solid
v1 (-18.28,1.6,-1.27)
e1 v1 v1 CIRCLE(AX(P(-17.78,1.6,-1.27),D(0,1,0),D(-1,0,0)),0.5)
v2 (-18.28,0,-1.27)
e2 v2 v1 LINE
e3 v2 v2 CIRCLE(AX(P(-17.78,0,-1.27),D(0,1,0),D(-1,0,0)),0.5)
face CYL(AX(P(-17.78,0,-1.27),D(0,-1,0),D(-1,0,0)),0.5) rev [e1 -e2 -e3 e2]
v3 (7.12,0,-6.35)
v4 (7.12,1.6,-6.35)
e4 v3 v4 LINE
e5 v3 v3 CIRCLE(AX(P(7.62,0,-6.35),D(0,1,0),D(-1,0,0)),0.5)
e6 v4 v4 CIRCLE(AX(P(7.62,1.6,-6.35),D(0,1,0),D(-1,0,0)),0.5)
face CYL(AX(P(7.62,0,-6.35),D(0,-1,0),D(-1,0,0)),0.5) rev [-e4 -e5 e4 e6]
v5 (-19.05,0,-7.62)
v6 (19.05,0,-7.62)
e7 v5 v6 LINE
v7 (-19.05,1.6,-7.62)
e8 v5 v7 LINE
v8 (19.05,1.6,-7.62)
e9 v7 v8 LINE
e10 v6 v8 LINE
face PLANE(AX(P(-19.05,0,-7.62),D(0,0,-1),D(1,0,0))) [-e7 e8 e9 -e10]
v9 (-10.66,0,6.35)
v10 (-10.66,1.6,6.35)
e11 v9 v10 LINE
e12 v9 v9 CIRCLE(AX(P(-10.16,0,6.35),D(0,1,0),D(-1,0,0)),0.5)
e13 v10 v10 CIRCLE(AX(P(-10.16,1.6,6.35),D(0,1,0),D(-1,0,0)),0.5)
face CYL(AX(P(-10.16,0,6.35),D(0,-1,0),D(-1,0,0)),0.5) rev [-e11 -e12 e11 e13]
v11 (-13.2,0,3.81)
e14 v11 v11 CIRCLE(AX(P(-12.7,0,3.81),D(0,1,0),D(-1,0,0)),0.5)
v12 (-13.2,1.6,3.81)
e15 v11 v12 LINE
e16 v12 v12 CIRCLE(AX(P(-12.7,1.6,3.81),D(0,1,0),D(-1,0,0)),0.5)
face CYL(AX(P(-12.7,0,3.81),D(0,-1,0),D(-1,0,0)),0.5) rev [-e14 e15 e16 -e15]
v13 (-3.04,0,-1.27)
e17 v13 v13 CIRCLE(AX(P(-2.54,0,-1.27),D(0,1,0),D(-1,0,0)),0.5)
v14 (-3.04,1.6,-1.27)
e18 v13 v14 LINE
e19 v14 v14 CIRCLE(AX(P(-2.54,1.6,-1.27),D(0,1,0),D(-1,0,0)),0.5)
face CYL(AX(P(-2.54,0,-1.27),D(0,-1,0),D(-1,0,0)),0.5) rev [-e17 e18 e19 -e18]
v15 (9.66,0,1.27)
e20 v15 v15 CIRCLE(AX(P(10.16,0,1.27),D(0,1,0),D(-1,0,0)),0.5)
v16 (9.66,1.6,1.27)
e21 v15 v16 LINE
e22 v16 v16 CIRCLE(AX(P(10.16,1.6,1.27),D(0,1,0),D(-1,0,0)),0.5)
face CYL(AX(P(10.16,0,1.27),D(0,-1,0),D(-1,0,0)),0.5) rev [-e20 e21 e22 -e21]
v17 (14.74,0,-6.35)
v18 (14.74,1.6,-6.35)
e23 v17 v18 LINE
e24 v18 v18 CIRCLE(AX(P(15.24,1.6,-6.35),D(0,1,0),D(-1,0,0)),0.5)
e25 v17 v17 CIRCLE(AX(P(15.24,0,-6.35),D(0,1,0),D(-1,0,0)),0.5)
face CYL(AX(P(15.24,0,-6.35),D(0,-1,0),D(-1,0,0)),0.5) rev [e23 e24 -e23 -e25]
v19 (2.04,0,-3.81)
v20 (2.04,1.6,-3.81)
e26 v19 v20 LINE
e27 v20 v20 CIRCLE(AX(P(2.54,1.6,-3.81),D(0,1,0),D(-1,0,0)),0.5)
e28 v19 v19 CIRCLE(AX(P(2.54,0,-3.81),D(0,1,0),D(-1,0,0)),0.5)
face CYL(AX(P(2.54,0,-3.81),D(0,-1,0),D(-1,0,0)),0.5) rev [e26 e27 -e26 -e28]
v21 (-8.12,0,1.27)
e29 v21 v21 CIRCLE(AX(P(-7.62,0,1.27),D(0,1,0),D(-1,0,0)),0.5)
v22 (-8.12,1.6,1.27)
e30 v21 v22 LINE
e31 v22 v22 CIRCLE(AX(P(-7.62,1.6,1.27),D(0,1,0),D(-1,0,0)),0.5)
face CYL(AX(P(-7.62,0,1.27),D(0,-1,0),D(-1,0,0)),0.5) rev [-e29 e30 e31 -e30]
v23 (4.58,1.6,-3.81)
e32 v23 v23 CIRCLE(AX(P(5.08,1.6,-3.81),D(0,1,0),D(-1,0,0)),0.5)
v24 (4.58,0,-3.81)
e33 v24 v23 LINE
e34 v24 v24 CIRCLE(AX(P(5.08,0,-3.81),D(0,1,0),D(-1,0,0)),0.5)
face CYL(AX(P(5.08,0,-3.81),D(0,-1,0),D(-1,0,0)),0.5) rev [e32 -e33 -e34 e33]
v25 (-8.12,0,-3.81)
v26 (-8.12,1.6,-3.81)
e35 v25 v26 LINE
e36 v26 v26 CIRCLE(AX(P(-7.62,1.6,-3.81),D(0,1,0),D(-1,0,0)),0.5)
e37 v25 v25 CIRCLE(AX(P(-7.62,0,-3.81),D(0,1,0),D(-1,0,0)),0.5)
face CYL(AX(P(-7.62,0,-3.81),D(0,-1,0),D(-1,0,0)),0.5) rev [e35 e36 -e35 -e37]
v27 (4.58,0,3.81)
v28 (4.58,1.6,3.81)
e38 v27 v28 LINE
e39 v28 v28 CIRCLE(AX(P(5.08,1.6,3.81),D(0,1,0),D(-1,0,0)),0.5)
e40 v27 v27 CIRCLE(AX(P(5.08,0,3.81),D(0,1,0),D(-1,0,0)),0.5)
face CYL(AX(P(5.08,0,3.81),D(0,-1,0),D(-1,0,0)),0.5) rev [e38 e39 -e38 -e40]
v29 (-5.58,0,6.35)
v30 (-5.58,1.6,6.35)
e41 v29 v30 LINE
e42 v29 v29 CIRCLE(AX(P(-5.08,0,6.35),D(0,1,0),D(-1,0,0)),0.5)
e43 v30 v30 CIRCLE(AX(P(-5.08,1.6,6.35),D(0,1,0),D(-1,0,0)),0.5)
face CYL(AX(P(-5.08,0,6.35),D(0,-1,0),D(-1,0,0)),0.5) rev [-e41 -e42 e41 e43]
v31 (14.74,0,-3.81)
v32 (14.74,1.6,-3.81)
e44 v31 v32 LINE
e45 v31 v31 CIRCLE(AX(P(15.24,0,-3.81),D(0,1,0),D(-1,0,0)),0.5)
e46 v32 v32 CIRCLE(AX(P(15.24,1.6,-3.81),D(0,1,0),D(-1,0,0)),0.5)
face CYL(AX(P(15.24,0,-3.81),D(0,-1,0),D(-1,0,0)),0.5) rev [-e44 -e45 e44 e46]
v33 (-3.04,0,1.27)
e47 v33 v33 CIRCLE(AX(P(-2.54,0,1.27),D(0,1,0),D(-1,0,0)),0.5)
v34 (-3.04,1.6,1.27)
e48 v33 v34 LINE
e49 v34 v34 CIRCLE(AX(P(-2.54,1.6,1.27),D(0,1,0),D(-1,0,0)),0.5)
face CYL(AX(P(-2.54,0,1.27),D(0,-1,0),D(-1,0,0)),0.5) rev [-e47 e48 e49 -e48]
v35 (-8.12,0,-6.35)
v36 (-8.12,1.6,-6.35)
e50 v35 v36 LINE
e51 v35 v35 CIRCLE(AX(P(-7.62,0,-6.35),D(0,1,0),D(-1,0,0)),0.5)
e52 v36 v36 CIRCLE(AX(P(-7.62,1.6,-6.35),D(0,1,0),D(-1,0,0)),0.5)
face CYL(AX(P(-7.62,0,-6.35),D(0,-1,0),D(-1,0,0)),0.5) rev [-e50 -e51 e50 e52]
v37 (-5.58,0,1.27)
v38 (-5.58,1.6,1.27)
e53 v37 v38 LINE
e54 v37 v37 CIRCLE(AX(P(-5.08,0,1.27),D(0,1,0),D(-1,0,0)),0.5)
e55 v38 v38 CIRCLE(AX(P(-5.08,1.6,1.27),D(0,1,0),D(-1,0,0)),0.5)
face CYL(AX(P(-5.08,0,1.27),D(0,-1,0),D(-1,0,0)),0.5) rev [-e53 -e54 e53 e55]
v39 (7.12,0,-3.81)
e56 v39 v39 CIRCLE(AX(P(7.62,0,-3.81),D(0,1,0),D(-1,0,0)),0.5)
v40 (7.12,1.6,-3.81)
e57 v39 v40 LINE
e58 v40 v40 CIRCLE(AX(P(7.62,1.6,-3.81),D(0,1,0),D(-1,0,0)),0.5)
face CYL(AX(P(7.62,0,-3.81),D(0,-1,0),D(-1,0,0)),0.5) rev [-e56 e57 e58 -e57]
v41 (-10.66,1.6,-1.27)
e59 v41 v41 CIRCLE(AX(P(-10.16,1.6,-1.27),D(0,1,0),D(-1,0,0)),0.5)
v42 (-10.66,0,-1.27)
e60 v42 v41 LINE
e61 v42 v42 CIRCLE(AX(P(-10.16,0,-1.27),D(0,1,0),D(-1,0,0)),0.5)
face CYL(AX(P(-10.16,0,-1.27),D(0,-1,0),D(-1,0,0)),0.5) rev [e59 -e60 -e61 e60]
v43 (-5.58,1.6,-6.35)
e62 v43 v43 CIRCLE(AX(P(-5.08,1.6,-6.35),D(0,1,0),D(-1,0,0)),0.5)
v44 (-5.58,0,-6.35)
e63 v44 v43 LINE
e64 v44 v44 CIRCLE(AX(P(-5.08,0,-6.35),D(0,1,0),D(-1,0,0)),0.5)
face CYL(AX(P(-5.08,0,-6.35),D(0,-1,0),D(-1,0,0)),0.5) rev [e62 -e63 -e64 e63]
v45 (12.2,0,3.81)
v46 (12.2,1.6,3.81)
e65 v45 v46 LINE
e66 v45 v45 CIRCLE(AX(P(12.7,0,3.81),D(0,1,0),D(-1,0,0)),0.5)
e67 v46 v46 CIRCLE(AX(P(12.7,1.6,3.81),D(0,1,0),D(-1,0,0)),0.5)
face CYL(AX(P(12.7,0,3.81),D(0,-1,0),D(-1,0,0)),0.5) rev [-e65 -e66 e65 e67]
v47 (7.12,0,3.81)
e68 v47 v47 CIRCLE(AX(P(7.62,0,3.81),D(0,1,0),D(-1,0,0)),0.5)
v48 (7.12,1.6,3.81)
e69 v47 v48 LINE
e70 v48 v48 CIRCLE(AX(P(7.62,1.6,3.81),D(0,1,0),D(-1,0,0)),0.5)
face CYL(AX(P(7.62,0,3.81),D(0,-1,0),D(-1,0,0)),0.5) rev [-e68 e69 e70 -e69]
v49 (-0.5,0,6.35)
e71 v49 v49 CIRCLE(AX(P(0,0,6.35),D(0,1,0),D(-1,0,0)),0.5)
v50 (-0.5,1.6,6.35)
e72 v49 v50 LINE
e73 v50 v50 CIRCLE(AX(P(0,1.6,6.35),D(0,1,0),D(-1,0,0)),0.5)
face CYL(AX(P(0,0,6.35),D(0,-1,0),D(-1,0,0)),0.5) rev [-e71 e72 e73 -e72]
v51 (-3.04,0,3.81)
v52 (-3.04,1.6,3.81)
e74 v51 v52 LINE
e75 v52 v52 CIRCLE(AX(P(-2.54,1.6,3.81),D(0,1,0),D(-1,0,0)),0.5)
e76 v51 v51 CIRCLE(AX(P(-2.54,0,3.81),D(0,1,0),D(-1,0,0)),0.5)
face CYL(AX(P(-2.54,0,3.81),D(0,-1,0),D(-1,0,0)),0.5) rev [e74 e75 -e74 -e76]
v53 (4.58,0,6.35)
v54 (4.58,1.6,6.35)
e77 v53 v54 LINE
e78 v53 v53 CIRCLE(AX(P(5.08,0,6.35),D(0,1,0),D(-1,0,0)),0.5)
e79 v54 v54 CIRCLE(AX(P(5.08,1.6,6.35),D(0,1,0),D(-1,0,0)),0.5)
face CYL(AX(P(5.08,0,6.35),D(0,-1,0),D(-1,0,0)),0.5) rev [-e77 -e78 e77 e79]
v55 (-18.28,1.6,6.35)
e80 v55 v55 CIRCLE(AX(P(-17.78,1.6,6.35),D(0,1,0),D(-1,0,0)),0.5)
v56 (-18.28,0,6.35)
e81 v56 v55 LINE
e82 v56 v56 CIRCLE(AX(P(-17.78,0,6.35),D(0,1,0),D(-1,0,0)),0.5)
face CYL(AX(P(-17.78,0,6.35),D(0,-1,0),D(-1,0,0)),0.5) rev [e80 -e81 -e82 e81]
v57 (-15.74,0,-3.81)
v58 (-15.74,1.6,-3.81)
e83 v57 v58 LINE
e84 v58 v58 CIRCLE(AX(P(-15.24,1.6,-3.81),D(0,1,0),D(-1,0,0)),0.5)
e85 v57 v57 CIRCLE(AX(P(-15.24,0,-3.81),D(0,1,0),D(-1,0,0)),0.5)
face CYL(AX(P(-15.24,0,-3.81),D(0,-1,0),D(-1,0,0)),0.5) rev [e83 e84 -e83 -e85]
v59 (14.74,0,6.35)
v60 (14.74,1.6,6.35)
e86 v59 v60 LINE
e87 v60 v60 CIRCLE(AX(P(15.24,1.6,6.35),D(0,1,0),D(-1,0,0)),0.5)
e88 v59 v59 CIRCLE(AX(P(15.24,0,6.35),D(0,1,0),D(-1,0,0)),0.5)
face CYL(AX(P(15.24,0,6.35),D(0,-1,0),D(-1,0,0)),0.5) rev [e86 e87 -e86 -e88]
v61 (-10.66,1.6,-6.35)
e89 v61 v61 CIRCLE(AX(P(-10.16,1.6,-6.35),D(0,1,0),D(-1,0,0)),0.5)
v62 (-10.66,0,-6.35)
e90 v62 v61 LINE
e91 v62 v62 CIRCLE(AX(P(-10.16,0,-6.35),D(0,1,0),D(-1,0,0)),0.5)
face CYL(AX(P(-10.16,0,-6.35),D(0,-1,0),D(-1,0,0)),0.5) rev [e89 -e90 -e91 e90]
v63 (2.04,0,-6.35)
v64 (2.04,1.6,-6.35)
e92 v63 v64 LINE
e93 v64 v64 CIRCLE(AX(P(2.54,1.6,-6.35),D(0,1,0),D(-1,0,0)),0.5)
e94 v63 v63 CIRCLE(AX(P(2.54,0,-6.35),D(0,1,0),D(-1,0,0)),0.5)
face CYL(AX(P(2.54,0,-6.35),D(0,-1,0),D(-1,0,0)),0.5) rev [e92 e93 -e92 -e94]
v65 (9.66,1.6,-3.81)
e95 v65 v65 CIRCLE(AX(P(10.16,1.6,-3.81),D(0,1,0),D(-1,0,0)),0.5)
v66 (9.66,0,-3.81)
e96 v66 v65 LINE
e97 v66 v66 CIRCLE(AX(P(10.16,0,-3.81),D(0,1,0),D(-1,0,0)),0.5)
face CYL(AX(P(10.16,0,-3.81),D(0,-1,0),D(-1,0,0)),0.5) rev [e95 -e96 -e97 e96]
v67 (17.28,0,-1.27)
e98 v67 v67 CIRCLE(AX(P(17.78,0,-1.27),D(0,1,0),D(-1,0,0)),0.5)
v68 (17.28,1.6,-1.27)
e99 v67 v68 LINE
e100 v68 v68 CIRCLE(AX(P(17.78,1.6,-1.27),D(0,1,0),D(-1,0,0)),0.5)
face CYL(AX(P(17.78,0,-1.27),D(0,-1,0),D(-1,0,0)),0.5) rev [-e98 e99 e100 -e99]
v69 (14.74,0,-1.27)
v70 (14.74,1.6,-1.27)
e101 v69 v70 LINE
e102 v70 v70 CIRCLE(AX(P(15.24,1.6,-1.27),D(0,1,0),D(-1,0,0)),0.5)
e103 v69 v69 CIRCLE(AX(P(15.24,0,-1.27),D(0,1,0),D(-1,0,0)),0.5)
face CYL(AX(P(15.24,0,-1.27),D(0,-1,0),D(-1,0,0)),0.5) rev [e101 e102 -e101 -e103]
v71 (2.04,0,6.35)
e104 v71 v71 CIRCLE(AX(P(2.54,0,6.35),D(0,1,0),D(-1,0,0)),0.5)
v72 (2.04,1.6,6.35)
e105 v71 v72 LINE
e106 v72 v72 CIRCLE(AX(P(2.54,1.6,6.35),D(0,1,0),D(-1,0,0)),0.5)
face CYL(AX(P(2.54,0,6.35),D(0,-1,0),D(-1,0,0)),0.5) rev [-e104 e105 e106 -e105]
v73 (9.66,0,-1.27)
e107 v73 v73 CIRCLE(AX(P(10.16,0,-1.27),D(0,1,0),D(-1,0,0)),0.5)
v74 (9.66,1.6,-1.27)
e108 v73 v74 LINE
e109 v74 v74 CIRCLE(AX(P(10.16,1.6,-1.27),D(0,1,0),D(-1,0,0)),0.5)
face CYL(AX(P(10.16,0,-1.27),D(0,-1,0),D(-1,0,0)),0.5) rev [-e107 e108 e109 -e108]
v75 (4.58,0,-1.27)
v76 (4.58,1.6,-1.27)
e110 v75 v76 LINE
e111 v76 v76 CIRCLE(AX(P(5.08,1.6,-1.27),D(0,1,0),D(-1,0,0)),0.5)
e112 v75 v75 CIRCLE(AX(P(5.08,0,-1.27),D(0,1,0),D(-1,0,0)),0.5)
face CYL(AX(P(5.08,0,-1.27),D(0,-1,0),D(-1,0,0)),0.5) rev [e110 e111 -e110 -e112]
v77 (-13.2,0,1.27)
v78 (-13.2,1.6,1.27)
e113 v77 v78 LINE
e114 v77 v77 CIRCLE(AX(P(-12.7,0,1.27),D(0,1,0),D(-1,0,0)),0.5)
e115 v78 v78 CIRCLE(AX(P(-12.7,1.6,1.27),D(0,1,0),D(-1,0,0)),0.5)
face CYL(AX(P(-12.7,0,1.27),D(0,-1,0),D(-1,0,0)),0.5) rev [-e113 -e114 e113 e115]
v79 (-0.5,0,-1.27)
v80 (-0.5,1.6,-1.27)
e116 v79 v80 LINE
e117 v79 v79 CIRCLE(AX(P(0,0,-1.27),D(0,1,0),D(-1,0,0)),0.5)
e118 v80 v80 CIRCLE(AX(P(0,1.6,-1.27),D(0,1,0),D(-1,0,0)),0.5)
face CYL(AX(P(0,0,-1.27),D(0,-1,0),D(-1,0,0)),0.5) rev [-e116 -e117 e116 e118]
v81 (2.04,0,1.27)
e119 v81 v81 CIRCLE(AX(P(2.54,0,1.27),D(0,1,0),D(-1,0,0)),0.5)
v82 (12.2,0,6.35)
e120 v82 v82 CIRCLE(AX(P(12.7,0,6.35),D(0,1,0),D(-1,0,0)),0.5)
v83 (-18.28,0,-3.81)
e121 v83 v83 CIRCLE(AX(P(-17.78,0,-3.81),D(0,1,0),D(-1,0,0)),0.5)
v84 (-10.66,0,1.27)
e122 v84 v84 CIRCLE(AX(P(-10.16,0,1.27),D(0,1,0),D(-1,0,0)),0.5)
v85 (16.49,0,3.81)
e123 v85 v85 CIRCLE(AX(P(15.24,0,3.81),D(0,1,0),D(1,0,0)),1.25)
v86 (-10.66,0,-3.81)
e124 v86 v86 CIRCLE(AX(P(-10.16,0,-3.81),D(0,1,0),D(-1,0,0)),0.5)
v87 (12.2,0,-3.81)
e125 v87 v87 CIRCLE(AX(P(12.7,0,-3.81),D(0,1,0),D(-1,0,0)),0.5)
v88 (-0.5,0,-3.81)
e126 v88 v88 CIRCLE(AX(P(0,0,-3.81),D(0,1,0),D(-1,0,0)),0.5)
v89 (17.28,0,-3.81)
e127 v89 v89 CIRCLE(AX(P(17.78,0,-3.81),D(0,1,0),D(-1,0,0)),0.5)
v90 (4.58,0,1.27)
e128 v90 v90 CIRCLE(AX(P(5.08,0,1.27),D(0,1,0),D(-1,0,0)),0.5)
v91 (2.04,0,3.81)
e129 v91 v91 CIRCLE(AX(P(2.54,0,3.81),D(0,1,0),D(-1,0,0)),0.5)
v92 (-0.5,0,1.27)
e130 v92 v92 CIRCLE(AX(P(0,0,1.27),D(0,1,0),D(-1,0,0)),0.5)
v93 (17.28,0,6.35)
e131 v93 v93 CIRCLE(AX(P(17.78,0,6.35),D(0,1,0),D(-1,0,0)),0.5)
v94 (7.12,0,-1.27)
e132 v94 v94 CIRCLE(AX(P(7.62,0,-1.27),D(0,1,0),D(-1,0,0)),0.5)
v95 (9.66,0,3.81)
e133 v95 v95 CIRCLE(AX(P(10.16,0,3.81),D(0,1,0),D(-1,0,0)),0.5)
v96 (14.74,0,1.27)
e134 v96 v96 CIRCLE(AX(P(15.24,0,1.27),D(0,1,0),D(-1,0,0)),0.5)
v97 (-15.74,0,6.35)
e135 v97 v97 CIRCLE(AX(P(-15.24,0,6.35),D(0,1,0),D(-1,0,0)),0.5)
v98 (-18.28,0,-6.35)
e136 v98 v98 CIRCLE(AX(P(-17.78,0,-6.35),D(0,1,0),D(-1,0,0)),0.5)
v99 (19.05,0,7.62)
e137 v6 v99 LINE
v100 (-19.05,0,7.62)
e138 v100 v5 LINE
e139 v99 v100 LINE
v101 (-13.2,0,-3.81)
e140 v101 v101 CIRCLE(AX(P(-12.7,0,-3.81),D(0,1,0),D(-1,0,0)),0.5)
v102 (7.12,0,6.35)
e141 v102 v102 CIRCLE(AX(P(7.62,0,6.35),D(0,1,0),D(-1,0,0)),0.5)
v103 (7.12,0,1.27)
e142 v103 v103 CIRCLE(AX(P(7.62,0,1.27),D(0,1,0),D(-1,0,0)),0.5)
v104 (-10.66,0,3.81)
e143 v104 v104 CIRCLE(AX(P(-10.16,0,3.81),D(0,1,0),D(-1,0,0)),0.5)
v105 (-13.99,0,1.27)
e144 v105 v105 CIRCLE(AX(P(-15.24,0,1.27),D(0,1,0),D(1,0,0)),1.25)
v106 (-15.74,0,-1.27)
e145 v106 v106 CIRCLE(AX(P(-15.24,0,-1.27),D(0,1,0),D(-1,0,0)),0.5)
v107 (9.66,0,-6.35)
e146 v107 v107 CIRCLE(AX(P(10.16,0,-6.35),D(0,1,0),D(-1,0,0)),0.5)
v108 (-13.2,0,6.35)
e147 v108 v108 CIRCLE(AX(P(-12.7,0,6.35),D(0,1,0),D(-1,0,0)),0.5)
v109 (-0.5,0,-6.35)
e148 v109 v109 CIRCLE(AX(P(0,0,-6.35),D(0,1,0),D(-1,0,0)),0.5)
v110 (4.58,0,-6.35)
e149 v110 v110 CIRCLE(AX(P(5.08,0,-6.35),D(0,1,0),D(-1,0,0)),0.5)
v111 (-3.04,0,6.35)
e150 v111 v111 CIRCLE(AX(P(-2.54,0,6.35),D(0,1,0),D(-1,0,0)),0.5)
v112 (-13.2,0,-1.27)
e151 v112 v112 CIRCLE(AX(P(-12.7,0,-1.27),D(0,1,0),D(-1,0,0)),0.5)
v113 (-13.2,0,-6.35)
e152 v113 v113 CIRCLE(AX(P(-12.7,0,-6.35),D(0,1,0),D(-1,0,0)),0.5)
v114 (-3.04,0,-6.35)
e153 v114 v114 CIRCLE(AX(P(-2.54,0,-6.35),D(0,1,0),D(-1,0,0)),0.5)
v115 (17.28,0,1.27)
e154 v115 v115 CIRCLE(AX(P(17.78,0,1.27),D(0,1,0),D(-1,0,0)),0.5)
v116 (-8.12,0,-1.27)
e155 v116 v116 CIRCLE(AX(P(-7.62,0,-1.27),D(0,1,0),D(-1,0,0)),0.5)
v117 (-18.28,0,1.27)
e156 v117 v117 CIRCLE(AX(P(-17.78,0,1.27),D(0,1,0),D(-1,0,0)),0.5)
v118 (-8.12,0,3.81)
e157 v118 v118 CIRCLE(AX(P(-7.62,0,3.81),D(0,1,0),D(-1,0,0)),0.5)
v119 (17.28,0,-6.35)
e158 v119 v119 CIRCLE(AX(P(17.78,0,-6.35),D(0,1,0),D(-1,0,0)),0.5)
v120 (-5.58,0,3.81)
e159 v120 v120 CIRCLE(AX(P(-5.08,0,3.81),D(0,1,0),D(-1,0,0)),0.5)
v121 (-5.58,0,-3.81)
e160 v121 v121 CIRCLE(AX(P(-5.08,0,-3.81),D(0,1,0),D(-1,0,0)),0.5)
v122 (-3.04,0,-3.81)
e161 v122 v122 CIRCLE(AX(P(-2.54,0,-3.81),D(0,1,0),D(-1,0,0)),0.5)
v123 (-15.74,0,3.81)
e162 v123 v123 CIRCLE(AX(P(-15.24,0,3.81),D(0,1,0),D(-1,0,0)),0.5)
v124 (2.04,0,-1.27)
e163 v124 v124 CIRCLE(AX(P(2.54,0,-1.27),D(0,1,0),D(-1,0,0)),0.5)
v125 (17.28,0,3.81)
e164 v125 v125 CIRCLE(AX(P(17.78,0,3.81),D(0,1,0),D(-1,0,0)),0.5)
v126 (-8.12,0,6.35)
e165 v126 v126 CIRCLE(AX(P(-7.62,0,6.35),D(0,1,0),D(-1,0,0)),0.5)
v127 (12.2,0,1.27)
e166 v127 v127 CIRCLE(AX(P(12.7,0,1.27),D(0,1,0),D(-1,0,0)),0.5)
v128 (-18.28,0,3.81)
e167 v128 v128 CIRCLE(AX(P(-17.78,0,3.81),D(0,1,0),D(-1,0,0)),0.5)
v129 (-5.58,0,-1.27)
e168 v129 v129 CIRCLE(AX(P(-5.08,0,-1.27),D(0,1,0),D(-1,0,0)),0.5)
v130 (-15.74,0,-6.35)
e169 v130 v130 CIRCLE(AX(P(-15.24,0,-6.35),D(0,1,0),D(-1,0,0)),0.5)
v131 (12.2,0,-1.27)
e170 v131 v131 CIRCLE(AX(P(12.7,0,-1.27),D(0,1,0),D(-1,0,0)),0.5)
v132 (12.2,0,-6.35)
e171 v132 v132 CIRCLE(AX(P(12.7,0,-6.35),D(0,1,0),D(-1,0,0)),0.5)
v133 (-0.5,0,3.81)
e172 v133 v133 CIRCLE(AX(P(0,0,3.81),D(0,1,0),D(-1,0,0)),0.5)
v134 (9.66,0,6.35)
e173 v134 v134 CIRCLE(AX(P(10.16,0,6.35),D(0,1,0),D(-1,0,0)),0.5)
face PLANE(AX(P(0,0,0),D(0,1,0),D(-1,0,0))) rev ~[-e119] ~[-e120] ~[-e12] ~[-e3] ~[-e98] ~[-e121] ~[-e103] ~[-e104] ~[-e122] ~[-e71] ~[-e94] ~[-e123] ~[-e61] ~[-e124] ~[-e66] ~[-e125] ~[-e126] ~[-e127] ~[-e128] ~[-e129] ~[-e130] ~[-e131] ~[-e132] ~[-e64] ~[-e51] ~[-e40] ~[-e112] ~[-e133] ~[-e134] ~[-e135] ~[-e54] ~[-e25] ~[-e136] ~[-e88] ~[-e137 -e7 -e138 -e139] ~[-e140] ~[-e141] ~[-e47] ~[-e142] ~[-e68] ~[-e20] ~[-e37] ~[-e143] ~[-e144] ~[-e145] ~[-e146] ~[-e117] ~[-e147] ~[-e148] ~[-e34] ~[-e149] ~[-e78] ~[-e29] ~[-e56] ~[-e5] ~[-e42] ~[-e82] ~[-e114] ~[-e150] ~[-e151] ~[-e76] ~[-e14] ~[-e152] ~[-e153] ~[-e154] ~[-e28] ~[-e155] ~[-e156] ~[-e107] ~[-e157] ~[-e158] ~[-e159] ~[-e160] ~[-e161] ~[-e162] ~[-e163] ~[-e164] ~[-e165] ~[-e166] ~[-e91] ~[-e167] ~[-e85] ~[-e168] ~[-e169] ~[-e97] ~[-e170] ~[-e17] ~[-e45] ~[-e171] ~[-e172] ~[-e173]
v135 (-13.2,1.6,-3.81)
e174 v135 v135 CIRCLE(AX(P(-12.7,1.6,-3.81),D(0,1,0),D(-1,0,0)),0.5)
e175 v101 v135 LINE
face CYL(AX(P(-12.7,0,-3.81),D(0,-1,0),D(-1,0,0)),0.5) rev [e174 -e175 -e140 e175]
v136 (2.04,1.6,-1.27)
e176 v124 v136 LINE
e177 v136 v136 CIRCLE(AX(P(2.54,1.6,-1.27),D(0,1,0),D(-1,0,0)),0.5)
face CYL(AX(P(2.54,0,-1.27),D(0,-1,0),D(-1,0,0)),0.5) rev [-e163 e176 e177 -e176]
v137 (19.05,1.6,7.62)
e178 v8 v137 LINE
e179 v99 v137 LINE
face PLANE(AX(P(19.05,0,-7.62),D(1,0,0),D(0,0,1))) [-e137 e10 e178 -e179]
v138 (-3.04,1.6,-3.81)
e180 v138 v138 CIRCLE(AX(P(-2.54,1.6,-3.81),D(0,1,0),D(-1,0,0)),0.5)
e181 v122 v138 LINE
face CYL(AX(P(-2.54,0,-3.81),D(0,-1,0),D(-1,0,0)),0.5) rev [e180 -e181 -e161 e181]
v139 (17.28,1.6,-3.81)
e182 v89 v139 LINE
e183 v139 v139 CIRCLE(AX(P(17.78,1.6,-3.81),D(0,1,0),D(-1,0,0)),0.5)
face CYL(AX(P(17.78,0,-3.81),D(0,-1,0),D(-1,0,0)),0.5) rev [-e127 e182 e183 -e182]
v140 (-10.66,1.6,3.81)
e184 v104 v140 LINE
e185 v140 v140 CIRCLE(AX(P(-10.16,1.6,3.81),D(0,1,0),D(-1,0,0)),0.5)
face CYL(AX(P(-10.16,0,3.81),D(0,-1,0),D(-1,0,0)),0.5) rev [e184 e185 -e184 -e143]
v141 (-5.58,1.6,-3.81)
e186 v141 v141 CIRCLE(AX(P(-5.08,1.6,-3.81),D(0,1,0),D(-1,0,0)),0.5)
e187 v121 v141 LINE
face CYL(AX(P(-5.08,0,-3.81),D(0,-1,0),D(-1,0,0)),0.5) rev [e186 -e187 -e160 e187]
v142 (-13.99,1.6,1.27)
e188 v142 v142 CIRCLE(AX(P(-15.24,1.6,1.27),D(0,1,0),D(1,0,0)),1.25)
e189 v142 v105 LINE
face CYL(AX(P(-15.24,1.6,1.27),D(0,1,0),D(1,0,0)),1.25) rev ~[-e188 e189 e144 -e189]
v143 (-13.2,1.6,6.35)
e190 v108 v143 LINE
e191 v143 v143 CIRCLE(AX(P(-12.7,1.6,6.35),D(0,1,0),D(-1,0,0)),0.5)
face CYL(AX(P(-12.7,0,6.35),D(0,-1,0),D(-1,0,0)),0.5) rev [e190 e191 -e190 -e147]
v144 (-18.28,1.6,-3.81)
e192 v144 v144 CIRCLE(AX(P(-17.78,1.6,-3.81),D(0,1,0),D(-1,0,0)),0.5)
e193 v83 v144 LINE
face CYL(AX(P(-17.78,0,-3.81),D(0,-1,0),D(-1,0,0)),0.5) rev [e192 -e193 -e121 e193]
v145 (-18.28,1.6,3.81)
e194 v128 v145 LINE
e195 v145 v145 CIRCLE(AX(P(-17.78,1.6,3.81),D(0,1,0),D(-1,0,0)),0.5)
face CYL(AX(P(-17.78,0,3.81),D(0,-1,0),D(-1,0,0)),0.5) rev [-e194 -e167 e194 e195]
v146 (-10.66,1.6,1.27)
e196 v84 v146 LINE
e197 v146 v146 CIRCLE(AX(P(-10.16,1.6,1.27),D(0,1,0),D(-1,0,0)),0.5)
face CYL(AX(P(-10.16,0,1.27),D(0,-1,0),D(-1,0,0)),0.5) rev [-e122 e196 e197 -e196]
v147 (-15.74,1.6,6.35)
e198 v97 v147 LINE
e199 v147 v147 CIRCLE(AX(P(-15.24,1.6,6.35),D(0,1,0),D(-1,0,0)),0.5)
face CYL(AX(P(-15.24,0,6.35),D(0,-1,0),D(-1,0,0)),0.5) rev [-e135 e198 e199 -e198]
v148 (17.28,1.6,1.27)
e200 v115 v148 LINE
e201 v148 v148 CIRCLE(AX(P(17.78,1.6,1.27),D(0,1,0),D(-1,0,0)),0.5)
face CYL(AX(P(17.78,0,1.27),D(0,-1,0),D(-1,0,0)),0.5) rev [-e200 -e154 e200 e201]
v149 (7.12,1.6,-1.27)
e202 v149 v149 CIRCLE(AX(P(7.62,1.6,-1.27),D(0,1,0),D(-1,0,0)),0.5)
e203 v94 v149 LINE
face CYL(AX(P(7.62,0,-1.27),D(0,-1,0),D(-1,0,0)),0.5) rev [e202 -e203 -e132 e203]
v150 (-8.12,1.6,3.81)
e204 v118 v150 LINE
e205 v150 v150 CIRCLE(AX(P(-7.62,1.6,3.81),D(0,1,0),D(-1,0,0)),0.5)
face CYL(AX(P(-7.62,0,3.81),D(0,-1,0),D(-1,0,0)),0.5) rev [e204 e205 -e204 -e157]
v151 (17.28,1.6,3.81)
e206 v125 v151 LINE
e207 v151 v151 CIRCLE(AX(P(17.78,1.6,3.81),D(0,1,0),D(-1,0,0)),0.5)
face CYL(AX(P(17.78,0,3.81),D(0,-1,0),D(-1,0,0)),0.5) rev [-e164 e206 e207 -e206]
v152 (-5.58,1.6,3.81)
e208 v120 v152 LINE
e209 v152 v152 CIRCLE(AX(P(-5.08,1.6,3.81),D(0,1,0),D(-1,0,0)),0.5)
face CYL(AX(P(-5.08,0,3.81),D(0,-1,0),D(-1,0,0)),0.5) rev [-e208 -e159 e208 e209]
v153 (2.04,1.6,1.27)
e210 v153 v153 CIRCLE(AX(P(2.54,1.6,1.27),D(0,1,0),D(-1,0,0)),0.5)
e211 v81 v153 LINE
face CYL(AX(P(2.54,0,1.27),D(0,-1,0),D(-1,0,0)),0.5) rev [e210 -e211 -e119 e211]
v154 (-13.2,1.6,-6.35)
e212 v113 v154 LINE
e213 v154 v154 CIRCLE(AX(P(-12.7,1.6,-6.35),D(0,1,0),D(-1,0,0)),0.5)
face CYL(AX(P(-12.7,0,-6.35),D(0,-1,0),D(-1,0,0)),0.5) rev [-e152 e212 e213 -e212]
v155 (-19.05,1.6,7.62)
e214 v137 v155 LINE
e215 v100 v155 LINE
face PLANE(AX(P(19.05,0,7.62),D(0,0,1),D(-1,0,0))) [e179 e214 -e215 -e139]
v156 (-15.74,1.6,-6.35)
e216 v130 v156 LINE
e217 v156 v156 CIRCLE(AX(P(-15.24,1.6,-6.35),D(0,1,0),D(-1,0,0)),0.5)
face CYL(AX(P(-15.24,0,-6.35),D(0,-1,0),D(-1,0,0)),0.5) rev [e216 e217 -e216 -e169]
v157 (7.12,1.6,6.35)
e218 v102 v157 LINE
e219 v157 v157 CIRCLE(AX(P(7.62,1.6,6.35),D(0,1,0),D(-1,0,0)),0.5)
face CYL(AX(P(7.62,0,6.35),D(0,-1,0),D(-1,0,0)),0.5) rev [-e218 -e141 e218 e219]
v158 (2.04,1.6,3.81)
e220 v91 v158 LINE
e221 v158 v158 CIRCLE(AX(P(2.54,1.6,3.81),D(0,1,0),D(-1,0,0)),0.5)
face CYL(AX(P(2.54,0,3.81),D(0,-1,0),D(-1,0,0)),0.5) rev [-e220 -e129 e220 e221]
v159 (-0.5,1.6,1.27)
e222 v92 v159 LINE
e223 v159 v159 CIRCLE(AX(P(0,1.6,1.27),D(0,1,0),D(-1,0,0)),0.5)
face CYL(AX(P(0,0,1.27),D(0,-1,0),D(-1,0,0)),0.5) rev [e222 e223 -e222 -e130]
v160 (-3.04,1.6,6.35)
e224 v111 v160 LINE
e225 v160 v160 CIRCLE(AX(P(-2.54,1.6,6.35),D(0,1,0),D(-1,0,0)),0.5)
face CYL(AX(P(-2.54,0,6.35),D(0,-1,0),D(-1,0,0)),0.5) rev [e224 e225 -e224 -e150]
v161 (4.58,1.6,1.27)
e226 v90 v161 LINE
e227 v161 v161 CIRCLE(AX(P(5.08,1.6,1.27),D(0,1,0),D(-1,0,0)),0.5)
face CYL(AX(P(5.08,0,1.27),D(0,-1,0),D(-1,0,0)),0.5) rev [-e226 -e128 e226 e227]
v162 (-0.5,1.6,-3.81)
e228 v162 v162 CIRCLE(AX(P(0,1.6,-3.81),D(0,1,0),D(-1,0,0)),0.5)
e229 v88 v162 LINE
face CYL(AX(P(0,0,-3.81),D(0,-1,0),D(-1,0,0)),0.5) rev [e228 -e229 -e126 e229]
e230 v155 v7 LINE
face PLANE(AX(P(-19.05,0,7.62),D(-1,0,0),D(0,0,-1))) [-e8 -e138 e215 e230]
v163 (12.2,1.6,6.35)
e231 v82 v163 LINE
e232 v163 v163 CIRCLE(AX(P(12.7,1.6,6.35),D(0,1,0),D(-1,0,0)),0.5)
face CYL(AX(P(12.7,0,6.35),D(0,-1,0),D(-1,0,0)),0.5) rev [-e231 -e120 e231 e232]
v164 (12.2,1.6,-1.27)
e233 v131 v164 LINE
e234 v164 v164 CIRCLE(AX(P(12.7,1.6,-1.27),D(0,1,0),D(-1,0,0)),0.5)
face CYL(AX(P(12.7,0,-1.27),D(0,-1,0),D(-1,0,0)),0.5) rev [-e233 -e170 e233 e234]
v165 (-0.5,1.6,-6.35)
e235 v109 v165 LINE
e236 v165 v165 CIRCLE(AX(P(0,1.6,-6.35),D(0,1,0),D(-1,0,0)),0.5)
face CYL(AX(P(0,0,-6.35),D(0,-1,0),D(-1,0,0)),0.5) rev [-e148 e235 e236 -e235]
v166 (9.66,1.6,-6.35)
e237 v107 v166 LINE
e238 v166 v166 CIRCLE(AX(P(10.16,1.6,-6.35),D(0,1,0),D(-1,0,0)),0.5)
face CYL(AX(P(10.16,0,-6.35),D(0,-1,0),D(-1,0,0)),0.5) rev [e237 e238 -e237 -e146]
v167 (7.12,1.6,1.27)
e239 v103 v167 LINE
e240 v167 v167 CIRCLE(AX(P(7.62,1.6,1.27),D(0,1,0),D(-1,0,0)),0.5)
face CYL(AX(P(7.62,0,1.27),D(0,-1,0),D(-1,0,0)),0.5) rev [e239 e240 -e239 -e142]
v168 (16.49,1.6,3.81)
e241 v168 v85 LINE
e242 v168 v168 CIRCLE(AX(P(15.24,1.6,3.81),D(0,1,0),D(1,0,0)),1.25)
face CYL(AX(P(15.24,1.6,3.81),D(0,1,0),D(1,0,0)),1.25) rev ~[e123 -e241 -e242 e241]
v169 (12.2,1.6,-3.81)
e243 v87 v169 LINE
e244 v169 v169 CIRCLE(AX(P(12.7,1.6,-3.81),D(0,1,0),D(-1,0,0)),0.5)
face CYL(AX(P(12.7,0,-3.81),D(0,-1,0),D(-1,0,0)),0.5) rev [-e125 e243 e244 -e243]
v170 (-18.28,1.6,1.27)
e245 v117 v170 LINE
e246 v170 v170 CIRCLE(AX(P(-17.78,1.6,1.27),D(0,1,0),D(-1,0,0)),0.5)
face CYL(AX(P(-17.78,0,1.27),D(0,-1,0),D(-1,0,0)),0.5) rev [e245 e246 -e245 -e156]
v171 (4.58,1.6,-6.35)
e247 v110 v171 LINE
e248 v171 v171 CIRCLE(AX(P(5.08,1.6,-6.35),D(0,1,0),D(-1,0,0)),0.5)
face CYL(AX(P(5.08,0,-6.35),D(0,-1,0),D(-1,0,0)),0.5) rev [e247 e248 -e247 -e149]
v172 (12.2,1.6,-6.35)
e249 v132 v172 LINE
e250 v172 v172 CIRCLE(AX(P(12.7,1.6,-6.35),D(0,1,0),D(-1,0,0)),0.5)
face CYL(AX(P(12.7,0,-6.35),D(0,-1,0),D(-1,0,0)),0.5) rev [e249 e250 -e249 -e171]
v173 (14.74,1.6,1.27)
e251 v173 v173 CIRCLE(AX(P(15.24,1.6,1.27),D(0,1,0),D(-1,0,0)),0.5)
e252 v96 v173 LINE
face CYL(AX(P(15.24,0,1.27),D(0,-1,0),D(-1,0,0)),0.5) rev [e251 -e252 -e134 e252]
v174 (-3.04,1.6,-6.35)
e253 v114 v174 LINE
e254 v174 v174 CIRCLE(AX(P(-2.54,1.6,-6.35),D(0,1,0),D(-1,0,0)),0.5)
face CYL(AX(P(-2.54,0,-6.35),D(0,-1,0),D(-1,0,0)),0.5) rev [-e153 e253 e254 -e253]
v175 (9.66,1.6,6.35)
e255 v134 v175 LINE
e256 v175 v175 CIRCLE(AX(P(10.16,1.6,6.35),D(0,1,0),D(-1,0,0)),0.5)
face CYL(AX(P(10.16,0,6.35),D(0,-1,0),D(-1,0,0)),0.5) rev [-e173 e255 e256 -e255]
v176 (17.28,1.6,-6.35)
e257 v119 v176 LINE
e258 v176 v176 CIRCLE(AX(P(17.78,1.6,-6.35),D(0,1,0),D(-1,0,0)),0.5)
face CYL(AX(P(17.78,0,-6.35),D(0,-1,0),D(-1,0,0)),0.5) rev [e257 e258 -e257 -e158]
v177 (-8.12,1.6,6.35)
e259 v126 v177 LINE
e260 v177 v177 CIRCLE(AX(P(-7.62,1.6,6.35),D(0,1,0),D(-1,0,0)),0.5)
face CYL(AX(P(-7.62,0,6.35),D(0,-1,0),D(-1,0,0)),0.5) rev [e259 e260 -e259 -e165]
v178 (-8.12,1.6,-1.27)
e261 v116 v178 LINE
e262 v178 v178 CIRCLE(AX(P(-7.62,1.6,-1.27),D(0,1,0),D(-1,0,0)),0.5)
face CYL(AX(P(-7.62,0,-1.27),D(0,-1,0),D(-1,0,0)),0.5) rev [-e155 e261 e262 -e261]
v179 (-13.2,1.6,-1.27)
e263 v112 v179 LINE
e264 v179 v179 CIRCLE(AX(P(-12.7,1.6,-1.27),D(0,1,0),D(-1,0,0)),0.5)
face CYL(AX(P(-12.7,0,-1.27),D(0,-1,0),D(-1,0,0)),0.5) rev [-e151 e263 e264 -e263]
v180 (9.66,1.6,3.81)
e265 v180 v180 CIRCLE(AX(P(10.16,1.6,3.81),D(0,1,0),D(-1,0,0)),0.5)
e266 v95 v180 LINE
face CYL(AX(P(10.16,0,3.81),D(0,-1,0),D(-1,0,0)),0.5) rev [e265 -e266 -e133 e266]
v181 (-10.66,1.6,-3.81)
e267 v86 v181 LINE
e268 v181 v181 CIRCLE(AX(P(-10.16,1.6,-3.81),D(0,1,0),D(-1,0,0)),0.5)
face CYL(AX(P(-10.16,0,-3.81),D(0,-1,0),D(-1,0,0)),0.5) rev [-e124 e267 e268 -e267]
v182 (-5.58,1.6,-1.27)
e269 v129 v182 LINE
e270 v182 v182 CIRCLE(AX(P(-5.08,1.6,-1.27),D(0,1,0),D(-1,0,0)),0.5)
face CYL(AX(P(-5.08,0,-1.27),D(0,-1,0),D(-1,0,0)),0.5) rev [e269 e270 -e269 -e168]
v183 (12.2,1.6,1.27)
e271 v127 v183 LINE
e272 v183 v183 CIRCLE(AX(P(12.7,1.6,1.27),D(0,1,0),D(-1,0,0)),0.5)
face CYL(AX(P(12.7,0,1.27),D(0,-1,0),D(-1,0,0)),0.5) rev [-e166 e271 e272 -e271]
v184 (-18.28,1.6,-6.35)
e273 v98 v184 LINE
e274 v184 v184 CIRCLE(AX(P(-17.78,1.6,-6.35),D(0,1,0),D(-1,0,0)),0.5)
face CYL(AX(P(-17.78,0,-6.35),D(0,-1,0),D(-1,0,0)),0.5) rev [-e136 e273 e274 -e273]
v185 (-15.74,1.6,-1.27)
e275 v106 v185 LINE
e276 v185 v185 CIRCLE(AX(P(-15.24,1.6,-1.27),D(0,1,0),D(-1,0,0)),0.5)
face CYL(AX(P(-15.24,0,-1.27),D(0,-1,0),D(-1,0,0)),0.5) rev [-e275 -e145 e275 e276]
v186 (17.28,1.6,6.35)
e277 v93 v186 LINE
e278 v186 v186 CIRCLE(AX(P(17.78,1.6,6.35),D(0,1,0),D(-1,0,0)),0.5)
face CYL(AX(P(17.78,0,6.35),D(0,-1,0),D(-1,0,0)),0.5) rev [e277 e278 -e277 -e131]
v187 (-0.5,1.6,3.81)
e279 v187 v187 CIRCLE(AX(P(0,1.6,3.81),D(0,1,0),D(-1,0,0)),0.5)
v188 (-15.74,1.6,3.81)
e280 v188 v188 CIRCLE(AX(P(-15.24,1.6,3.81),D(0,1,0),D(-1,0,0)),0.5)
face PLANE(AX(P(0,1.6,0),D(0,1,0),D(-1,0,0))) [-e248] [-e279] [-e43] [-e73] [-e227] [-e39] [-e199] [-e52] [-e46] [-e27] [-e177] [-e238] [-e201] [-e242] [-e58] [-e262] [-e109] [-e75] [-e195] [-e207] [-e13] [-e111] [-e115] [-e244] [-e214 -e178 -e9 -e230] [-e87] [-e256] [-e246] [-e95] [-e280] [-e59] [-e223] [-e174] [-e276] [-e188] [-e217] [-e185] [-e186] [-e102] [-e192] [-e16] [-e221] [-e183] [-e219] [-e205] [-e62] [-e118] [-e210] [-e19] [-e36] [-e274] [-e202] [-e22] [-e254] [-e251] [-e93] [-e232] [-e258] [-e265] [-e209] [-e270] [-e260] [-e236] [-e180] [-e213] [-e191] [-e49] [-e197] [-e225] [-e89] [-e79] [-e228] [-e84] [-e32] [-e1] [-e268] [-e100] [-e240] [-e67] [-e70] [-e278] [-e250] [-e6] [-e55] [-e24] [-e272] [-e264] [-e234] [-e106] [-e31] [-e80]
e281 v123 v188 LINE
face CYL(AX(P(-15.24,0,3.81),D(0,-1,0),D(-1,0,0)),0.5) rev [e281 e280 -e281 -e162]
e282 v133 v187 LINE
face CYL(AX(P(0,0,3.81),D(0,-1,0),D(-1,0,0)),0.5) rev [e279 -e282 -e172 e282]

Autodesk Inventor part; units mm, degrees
ref_plane "YZ Plane" through (0, 0, 0) normal (1, 0, 0) x (0, 1, 0)
ref_plane "XZ Plane" through (0, 0, 0) normal (0, 1, 0) x (-1, 0, 0)
ref_plane "XY Plane" through (0, 0, 0) normal (0, 0, 1) x (1, 0, 0)
sketch "Sketch1" plane through (0, 0, 0) normal (0, 1, 0) x (-1, 0, 0)
  line L0 (19.05, -7.62) -> (-19.05, -7.62)
  line L1 (-19.05, -7.62) -> (-19.05, 7.62)
  line L2 (-19.05, 7.62) -> (19.05, 7.62)
  line L3 (19.05, 7.62) -> (19.05, -7.62)
  line L4 (19.05, -7.62) -> (-19.05, 7.62) construction
  line L5 (-19.05, -7.62) -> (19.05, 7.62) construction
  circle A0 centre (17.78, -6.35) radius 0.5
  circle A1 centre (15.24, -6.35) radius 0.5
  circle A2 centre (12.7, -6.35) radius 0.5
  circle A3 centre (10.16, -6.35) radius 0.5
  circle A4 centre (7.62, -6.35) radius 0.5
  circle A5 centre (5.08, -6.35) radius 0.5
  circle A6 centre (2.54, -6.35) radius 0.5
  circle A7 centre (0, -6.35) radius 0.5
  circle A8 centre (17.78, -3.81) radius 0.5
  circle A9 centre (15.24, -3.81) radius 0.5
  circle A10 centre (12.7, -3.81) radius 0.5
  circle A11 centre (10.16, -3.81) radius 0.5
  circle A12 centre (7.62, -3.81) radius 0.5
  circle A13 centre (5.08, -3.81) radius 0.5
  circle A14 centre (2.54, -3.81) radius 0.5
  circle A15 centre (0, -3.81) radius 0.5
  circle A16 centre (17.78, -1.27) radius 0.5
  circle A17 centre (15.24, -1.27) radius 0.5
  circle A18 centre (12.7, -1.27) radius 0.5
  circle A19 centre (10.16, -1.27) radius 0.5
  circle A20 centre (7.62, -1.27) radius 0.5
  circle A21 centre (5.08, -1.27) radius 0.5
  circle A22 centre (2.54, -1.27) radius 0.5
  circle A23 centre (0, -1.27) radius 0.5
  circle A24 centre (-2.54, -6.35) radius 0.5
  circle A25 centre (-2.54, -3.81) radius 0.5
  circle A26 centre (-2.54, -1.27) radius 0.5
  circle A27 centre (-5.08, -6.35) radius 0.5
  circle A28 centre (-5.08, -3.81) radius 0.5
  circle A29 centre (-5.08, -1.27) radius 0.5
  circle A30 centre (17.78, 1.27) radius 0.5
  circle A31 centre (15.24, 1.27) radius 0.5
  circle A32 centre (12.7, 1.27) radius 0.5
  circle A33 centre (10.16, 1.27) radius 0.5
  circle A34 centre (7.62, 1.27) radius 0.5
  circle A35 centre (5.08, 1.27) radius 0.5
  circle A36 centre (2.54, 1.27) radius 0.5
  circle A37 centre (0, 1.27) radius 0.5
  circle A38 centre (-2.54, 1.27) radius 0.5
  circle A39 centre (-5.08, 1.27) radius 0.5
  circle A40 centre (-7.62, -6.35) radius 0.5
  circle A41 centre (-7.62, -3.81) radius 0.5
  circle A42 centre (-7.62, -1.27) radius 0.5
  circle A43 centre (-7.62, 1.27) radius 0.5
  circle A44 centre (-10.16, -6.35) radius 0.5
  circle A45 centre (-10.16, -3.81) radius 0.5
  circle A46 centre (-10.16, -1.27) radius 0.5
  circle A47 centre (-10.16, 1.27) radius 0.5
  circle A48 centre (-12.7, -6.35) radius 0.5
  circle A49 centre (-12.7, -3.81) radius 0.5
  circle A50 centre (-12.7, -1.27) radius 0.5
  circle A51 centre (-12.7, 1.27) radius 0.5
  circle A52 centre (-15.24, -6.35) radius 0.5
  circle A53 centre (-15.24, -3.81) radius 0.5
  circle A54 centre (-15.24, -1.27) radius 0.5
  circle A55 centre (-15.24, 1.27) radius 0.5
  circle A56 centre (-17.78, -6.35) radius 0.5
  circle A57 centre (-17.78, -3.81) radius 0.5
  circle A58 centre (-17.78, -1.27) radius 0.5
  circle A59 centre (-17.78, 1.27) radius 0.5
  circle A60 centre (17.78, 3.81) radius 0.5
  circle A61 centre (15.24, 3.81) radius 0.5
  circle A62 centre (12.7, 3.81) radius 0.5
  circle A63 centre (10.16, 3.81) radius 0.5
  circle A64 centre (7.62, 3.81) radius 0.5
  circle A65 centre (5.08, 3.81) radius 0.5
  circle A66 centre (2.54, 3.81) radius 0.5
  circle A67 centre (0, 3.81) radius 0.5
  circle A68 centre (-2.54, 3.81) radius 0.5
  circle A69 centre (-5.08, 3.81) radius 0.5
  circle A70 centre (-7.62, 3.81) radius 0.5
  circle A71 centre (-10.16, 3.81) radius 0.5
  circle A72 centre (-12.7, 3.81) radius 0.5
  circle A73 centre (-15.24, 3.81) radius 0.5
  circle A74 centre (-17.78, 3.81) radius 0.5
  circle A75 centre (17.78, 6.35) radius 0.5
  circle A76 centre (15.24, 6.35) radius 0.5
  circle A77 centre (12.7, 6.35) radius 0.5
  circle A78 centre (10.16, 6.35) radius 0.5
  circle A79 centre (7.62, 6.35) radius 0.5
  circle A80 centre (5.08, 6.35) radius 0.5
  circle A81 centre (2.54, 6.35) radius 0.5
  circle A82 centre (0, 6.35) radius 0.5
  circle A83 centre (-2.54, 6.35) radius 0.5
  circle A84 centre (-5.08, 6.35) radius 0.5
  circle A85 centre (-7.62, 6.35) radius 0.5
  circle A86 centre (-10.16, 6.35) radius 0.5
  circle A87 centre (-12.7, 6.35) radius 0.5
  circle A88 centre (-15.24, 6.35) radius 0.5
  circle A89 centre (-17.78, 6.35) radius 0.5
  point P0 (0, 0)
  dimension "d0" = 38.1
  dimension "d1" = 15.24
  dimension "d2" = 1
  dimension "d5" = 2.54
  dimension "d8" = 2.54
  dimension "d11" = 1.27
  dimension "d12" = 1.27
extrude "Extrusion1" add sketch "Sketch1" along normal blind 1.6
sketch "Sketch3" plane through (0, 1.6, 0) normal (0, 1, 0) x (1, 0, 0)
  circle A0 centre (-15.24, -1.27) radius 1.25
  circle A1 centre (15.24, -3.81) radius 1.25
  line L0 (-19.05, 7.62) -> (-19.05, -7.62) projected
  line L1 (19.05, -7.62) -> (19.05, 7.62) projected
  line L2 (19.05, 7.62) -> (-19.05, 7.62) projected
  point P0 (0, 0)
  dimension "d15" = 2.5
  dimension "d16" = 2.5
  dimension "d17" = 3.81
  dimension "d18" = 3.81
  dimension "d19" = 8.89
  dimension "d20" = 11.43
extrude "Extrusion2" cut sketch "Sketch3" against normal up to surface (1.6 mm away)
equation "\"d0\" = 2.54 * cols"
equation "\"d1\" = 2.54 * rows"
equation "\"d18\" = d17"
equation "\"cols\" = 15"
equation "\"rows\" = 6"
properties part number "Board"
